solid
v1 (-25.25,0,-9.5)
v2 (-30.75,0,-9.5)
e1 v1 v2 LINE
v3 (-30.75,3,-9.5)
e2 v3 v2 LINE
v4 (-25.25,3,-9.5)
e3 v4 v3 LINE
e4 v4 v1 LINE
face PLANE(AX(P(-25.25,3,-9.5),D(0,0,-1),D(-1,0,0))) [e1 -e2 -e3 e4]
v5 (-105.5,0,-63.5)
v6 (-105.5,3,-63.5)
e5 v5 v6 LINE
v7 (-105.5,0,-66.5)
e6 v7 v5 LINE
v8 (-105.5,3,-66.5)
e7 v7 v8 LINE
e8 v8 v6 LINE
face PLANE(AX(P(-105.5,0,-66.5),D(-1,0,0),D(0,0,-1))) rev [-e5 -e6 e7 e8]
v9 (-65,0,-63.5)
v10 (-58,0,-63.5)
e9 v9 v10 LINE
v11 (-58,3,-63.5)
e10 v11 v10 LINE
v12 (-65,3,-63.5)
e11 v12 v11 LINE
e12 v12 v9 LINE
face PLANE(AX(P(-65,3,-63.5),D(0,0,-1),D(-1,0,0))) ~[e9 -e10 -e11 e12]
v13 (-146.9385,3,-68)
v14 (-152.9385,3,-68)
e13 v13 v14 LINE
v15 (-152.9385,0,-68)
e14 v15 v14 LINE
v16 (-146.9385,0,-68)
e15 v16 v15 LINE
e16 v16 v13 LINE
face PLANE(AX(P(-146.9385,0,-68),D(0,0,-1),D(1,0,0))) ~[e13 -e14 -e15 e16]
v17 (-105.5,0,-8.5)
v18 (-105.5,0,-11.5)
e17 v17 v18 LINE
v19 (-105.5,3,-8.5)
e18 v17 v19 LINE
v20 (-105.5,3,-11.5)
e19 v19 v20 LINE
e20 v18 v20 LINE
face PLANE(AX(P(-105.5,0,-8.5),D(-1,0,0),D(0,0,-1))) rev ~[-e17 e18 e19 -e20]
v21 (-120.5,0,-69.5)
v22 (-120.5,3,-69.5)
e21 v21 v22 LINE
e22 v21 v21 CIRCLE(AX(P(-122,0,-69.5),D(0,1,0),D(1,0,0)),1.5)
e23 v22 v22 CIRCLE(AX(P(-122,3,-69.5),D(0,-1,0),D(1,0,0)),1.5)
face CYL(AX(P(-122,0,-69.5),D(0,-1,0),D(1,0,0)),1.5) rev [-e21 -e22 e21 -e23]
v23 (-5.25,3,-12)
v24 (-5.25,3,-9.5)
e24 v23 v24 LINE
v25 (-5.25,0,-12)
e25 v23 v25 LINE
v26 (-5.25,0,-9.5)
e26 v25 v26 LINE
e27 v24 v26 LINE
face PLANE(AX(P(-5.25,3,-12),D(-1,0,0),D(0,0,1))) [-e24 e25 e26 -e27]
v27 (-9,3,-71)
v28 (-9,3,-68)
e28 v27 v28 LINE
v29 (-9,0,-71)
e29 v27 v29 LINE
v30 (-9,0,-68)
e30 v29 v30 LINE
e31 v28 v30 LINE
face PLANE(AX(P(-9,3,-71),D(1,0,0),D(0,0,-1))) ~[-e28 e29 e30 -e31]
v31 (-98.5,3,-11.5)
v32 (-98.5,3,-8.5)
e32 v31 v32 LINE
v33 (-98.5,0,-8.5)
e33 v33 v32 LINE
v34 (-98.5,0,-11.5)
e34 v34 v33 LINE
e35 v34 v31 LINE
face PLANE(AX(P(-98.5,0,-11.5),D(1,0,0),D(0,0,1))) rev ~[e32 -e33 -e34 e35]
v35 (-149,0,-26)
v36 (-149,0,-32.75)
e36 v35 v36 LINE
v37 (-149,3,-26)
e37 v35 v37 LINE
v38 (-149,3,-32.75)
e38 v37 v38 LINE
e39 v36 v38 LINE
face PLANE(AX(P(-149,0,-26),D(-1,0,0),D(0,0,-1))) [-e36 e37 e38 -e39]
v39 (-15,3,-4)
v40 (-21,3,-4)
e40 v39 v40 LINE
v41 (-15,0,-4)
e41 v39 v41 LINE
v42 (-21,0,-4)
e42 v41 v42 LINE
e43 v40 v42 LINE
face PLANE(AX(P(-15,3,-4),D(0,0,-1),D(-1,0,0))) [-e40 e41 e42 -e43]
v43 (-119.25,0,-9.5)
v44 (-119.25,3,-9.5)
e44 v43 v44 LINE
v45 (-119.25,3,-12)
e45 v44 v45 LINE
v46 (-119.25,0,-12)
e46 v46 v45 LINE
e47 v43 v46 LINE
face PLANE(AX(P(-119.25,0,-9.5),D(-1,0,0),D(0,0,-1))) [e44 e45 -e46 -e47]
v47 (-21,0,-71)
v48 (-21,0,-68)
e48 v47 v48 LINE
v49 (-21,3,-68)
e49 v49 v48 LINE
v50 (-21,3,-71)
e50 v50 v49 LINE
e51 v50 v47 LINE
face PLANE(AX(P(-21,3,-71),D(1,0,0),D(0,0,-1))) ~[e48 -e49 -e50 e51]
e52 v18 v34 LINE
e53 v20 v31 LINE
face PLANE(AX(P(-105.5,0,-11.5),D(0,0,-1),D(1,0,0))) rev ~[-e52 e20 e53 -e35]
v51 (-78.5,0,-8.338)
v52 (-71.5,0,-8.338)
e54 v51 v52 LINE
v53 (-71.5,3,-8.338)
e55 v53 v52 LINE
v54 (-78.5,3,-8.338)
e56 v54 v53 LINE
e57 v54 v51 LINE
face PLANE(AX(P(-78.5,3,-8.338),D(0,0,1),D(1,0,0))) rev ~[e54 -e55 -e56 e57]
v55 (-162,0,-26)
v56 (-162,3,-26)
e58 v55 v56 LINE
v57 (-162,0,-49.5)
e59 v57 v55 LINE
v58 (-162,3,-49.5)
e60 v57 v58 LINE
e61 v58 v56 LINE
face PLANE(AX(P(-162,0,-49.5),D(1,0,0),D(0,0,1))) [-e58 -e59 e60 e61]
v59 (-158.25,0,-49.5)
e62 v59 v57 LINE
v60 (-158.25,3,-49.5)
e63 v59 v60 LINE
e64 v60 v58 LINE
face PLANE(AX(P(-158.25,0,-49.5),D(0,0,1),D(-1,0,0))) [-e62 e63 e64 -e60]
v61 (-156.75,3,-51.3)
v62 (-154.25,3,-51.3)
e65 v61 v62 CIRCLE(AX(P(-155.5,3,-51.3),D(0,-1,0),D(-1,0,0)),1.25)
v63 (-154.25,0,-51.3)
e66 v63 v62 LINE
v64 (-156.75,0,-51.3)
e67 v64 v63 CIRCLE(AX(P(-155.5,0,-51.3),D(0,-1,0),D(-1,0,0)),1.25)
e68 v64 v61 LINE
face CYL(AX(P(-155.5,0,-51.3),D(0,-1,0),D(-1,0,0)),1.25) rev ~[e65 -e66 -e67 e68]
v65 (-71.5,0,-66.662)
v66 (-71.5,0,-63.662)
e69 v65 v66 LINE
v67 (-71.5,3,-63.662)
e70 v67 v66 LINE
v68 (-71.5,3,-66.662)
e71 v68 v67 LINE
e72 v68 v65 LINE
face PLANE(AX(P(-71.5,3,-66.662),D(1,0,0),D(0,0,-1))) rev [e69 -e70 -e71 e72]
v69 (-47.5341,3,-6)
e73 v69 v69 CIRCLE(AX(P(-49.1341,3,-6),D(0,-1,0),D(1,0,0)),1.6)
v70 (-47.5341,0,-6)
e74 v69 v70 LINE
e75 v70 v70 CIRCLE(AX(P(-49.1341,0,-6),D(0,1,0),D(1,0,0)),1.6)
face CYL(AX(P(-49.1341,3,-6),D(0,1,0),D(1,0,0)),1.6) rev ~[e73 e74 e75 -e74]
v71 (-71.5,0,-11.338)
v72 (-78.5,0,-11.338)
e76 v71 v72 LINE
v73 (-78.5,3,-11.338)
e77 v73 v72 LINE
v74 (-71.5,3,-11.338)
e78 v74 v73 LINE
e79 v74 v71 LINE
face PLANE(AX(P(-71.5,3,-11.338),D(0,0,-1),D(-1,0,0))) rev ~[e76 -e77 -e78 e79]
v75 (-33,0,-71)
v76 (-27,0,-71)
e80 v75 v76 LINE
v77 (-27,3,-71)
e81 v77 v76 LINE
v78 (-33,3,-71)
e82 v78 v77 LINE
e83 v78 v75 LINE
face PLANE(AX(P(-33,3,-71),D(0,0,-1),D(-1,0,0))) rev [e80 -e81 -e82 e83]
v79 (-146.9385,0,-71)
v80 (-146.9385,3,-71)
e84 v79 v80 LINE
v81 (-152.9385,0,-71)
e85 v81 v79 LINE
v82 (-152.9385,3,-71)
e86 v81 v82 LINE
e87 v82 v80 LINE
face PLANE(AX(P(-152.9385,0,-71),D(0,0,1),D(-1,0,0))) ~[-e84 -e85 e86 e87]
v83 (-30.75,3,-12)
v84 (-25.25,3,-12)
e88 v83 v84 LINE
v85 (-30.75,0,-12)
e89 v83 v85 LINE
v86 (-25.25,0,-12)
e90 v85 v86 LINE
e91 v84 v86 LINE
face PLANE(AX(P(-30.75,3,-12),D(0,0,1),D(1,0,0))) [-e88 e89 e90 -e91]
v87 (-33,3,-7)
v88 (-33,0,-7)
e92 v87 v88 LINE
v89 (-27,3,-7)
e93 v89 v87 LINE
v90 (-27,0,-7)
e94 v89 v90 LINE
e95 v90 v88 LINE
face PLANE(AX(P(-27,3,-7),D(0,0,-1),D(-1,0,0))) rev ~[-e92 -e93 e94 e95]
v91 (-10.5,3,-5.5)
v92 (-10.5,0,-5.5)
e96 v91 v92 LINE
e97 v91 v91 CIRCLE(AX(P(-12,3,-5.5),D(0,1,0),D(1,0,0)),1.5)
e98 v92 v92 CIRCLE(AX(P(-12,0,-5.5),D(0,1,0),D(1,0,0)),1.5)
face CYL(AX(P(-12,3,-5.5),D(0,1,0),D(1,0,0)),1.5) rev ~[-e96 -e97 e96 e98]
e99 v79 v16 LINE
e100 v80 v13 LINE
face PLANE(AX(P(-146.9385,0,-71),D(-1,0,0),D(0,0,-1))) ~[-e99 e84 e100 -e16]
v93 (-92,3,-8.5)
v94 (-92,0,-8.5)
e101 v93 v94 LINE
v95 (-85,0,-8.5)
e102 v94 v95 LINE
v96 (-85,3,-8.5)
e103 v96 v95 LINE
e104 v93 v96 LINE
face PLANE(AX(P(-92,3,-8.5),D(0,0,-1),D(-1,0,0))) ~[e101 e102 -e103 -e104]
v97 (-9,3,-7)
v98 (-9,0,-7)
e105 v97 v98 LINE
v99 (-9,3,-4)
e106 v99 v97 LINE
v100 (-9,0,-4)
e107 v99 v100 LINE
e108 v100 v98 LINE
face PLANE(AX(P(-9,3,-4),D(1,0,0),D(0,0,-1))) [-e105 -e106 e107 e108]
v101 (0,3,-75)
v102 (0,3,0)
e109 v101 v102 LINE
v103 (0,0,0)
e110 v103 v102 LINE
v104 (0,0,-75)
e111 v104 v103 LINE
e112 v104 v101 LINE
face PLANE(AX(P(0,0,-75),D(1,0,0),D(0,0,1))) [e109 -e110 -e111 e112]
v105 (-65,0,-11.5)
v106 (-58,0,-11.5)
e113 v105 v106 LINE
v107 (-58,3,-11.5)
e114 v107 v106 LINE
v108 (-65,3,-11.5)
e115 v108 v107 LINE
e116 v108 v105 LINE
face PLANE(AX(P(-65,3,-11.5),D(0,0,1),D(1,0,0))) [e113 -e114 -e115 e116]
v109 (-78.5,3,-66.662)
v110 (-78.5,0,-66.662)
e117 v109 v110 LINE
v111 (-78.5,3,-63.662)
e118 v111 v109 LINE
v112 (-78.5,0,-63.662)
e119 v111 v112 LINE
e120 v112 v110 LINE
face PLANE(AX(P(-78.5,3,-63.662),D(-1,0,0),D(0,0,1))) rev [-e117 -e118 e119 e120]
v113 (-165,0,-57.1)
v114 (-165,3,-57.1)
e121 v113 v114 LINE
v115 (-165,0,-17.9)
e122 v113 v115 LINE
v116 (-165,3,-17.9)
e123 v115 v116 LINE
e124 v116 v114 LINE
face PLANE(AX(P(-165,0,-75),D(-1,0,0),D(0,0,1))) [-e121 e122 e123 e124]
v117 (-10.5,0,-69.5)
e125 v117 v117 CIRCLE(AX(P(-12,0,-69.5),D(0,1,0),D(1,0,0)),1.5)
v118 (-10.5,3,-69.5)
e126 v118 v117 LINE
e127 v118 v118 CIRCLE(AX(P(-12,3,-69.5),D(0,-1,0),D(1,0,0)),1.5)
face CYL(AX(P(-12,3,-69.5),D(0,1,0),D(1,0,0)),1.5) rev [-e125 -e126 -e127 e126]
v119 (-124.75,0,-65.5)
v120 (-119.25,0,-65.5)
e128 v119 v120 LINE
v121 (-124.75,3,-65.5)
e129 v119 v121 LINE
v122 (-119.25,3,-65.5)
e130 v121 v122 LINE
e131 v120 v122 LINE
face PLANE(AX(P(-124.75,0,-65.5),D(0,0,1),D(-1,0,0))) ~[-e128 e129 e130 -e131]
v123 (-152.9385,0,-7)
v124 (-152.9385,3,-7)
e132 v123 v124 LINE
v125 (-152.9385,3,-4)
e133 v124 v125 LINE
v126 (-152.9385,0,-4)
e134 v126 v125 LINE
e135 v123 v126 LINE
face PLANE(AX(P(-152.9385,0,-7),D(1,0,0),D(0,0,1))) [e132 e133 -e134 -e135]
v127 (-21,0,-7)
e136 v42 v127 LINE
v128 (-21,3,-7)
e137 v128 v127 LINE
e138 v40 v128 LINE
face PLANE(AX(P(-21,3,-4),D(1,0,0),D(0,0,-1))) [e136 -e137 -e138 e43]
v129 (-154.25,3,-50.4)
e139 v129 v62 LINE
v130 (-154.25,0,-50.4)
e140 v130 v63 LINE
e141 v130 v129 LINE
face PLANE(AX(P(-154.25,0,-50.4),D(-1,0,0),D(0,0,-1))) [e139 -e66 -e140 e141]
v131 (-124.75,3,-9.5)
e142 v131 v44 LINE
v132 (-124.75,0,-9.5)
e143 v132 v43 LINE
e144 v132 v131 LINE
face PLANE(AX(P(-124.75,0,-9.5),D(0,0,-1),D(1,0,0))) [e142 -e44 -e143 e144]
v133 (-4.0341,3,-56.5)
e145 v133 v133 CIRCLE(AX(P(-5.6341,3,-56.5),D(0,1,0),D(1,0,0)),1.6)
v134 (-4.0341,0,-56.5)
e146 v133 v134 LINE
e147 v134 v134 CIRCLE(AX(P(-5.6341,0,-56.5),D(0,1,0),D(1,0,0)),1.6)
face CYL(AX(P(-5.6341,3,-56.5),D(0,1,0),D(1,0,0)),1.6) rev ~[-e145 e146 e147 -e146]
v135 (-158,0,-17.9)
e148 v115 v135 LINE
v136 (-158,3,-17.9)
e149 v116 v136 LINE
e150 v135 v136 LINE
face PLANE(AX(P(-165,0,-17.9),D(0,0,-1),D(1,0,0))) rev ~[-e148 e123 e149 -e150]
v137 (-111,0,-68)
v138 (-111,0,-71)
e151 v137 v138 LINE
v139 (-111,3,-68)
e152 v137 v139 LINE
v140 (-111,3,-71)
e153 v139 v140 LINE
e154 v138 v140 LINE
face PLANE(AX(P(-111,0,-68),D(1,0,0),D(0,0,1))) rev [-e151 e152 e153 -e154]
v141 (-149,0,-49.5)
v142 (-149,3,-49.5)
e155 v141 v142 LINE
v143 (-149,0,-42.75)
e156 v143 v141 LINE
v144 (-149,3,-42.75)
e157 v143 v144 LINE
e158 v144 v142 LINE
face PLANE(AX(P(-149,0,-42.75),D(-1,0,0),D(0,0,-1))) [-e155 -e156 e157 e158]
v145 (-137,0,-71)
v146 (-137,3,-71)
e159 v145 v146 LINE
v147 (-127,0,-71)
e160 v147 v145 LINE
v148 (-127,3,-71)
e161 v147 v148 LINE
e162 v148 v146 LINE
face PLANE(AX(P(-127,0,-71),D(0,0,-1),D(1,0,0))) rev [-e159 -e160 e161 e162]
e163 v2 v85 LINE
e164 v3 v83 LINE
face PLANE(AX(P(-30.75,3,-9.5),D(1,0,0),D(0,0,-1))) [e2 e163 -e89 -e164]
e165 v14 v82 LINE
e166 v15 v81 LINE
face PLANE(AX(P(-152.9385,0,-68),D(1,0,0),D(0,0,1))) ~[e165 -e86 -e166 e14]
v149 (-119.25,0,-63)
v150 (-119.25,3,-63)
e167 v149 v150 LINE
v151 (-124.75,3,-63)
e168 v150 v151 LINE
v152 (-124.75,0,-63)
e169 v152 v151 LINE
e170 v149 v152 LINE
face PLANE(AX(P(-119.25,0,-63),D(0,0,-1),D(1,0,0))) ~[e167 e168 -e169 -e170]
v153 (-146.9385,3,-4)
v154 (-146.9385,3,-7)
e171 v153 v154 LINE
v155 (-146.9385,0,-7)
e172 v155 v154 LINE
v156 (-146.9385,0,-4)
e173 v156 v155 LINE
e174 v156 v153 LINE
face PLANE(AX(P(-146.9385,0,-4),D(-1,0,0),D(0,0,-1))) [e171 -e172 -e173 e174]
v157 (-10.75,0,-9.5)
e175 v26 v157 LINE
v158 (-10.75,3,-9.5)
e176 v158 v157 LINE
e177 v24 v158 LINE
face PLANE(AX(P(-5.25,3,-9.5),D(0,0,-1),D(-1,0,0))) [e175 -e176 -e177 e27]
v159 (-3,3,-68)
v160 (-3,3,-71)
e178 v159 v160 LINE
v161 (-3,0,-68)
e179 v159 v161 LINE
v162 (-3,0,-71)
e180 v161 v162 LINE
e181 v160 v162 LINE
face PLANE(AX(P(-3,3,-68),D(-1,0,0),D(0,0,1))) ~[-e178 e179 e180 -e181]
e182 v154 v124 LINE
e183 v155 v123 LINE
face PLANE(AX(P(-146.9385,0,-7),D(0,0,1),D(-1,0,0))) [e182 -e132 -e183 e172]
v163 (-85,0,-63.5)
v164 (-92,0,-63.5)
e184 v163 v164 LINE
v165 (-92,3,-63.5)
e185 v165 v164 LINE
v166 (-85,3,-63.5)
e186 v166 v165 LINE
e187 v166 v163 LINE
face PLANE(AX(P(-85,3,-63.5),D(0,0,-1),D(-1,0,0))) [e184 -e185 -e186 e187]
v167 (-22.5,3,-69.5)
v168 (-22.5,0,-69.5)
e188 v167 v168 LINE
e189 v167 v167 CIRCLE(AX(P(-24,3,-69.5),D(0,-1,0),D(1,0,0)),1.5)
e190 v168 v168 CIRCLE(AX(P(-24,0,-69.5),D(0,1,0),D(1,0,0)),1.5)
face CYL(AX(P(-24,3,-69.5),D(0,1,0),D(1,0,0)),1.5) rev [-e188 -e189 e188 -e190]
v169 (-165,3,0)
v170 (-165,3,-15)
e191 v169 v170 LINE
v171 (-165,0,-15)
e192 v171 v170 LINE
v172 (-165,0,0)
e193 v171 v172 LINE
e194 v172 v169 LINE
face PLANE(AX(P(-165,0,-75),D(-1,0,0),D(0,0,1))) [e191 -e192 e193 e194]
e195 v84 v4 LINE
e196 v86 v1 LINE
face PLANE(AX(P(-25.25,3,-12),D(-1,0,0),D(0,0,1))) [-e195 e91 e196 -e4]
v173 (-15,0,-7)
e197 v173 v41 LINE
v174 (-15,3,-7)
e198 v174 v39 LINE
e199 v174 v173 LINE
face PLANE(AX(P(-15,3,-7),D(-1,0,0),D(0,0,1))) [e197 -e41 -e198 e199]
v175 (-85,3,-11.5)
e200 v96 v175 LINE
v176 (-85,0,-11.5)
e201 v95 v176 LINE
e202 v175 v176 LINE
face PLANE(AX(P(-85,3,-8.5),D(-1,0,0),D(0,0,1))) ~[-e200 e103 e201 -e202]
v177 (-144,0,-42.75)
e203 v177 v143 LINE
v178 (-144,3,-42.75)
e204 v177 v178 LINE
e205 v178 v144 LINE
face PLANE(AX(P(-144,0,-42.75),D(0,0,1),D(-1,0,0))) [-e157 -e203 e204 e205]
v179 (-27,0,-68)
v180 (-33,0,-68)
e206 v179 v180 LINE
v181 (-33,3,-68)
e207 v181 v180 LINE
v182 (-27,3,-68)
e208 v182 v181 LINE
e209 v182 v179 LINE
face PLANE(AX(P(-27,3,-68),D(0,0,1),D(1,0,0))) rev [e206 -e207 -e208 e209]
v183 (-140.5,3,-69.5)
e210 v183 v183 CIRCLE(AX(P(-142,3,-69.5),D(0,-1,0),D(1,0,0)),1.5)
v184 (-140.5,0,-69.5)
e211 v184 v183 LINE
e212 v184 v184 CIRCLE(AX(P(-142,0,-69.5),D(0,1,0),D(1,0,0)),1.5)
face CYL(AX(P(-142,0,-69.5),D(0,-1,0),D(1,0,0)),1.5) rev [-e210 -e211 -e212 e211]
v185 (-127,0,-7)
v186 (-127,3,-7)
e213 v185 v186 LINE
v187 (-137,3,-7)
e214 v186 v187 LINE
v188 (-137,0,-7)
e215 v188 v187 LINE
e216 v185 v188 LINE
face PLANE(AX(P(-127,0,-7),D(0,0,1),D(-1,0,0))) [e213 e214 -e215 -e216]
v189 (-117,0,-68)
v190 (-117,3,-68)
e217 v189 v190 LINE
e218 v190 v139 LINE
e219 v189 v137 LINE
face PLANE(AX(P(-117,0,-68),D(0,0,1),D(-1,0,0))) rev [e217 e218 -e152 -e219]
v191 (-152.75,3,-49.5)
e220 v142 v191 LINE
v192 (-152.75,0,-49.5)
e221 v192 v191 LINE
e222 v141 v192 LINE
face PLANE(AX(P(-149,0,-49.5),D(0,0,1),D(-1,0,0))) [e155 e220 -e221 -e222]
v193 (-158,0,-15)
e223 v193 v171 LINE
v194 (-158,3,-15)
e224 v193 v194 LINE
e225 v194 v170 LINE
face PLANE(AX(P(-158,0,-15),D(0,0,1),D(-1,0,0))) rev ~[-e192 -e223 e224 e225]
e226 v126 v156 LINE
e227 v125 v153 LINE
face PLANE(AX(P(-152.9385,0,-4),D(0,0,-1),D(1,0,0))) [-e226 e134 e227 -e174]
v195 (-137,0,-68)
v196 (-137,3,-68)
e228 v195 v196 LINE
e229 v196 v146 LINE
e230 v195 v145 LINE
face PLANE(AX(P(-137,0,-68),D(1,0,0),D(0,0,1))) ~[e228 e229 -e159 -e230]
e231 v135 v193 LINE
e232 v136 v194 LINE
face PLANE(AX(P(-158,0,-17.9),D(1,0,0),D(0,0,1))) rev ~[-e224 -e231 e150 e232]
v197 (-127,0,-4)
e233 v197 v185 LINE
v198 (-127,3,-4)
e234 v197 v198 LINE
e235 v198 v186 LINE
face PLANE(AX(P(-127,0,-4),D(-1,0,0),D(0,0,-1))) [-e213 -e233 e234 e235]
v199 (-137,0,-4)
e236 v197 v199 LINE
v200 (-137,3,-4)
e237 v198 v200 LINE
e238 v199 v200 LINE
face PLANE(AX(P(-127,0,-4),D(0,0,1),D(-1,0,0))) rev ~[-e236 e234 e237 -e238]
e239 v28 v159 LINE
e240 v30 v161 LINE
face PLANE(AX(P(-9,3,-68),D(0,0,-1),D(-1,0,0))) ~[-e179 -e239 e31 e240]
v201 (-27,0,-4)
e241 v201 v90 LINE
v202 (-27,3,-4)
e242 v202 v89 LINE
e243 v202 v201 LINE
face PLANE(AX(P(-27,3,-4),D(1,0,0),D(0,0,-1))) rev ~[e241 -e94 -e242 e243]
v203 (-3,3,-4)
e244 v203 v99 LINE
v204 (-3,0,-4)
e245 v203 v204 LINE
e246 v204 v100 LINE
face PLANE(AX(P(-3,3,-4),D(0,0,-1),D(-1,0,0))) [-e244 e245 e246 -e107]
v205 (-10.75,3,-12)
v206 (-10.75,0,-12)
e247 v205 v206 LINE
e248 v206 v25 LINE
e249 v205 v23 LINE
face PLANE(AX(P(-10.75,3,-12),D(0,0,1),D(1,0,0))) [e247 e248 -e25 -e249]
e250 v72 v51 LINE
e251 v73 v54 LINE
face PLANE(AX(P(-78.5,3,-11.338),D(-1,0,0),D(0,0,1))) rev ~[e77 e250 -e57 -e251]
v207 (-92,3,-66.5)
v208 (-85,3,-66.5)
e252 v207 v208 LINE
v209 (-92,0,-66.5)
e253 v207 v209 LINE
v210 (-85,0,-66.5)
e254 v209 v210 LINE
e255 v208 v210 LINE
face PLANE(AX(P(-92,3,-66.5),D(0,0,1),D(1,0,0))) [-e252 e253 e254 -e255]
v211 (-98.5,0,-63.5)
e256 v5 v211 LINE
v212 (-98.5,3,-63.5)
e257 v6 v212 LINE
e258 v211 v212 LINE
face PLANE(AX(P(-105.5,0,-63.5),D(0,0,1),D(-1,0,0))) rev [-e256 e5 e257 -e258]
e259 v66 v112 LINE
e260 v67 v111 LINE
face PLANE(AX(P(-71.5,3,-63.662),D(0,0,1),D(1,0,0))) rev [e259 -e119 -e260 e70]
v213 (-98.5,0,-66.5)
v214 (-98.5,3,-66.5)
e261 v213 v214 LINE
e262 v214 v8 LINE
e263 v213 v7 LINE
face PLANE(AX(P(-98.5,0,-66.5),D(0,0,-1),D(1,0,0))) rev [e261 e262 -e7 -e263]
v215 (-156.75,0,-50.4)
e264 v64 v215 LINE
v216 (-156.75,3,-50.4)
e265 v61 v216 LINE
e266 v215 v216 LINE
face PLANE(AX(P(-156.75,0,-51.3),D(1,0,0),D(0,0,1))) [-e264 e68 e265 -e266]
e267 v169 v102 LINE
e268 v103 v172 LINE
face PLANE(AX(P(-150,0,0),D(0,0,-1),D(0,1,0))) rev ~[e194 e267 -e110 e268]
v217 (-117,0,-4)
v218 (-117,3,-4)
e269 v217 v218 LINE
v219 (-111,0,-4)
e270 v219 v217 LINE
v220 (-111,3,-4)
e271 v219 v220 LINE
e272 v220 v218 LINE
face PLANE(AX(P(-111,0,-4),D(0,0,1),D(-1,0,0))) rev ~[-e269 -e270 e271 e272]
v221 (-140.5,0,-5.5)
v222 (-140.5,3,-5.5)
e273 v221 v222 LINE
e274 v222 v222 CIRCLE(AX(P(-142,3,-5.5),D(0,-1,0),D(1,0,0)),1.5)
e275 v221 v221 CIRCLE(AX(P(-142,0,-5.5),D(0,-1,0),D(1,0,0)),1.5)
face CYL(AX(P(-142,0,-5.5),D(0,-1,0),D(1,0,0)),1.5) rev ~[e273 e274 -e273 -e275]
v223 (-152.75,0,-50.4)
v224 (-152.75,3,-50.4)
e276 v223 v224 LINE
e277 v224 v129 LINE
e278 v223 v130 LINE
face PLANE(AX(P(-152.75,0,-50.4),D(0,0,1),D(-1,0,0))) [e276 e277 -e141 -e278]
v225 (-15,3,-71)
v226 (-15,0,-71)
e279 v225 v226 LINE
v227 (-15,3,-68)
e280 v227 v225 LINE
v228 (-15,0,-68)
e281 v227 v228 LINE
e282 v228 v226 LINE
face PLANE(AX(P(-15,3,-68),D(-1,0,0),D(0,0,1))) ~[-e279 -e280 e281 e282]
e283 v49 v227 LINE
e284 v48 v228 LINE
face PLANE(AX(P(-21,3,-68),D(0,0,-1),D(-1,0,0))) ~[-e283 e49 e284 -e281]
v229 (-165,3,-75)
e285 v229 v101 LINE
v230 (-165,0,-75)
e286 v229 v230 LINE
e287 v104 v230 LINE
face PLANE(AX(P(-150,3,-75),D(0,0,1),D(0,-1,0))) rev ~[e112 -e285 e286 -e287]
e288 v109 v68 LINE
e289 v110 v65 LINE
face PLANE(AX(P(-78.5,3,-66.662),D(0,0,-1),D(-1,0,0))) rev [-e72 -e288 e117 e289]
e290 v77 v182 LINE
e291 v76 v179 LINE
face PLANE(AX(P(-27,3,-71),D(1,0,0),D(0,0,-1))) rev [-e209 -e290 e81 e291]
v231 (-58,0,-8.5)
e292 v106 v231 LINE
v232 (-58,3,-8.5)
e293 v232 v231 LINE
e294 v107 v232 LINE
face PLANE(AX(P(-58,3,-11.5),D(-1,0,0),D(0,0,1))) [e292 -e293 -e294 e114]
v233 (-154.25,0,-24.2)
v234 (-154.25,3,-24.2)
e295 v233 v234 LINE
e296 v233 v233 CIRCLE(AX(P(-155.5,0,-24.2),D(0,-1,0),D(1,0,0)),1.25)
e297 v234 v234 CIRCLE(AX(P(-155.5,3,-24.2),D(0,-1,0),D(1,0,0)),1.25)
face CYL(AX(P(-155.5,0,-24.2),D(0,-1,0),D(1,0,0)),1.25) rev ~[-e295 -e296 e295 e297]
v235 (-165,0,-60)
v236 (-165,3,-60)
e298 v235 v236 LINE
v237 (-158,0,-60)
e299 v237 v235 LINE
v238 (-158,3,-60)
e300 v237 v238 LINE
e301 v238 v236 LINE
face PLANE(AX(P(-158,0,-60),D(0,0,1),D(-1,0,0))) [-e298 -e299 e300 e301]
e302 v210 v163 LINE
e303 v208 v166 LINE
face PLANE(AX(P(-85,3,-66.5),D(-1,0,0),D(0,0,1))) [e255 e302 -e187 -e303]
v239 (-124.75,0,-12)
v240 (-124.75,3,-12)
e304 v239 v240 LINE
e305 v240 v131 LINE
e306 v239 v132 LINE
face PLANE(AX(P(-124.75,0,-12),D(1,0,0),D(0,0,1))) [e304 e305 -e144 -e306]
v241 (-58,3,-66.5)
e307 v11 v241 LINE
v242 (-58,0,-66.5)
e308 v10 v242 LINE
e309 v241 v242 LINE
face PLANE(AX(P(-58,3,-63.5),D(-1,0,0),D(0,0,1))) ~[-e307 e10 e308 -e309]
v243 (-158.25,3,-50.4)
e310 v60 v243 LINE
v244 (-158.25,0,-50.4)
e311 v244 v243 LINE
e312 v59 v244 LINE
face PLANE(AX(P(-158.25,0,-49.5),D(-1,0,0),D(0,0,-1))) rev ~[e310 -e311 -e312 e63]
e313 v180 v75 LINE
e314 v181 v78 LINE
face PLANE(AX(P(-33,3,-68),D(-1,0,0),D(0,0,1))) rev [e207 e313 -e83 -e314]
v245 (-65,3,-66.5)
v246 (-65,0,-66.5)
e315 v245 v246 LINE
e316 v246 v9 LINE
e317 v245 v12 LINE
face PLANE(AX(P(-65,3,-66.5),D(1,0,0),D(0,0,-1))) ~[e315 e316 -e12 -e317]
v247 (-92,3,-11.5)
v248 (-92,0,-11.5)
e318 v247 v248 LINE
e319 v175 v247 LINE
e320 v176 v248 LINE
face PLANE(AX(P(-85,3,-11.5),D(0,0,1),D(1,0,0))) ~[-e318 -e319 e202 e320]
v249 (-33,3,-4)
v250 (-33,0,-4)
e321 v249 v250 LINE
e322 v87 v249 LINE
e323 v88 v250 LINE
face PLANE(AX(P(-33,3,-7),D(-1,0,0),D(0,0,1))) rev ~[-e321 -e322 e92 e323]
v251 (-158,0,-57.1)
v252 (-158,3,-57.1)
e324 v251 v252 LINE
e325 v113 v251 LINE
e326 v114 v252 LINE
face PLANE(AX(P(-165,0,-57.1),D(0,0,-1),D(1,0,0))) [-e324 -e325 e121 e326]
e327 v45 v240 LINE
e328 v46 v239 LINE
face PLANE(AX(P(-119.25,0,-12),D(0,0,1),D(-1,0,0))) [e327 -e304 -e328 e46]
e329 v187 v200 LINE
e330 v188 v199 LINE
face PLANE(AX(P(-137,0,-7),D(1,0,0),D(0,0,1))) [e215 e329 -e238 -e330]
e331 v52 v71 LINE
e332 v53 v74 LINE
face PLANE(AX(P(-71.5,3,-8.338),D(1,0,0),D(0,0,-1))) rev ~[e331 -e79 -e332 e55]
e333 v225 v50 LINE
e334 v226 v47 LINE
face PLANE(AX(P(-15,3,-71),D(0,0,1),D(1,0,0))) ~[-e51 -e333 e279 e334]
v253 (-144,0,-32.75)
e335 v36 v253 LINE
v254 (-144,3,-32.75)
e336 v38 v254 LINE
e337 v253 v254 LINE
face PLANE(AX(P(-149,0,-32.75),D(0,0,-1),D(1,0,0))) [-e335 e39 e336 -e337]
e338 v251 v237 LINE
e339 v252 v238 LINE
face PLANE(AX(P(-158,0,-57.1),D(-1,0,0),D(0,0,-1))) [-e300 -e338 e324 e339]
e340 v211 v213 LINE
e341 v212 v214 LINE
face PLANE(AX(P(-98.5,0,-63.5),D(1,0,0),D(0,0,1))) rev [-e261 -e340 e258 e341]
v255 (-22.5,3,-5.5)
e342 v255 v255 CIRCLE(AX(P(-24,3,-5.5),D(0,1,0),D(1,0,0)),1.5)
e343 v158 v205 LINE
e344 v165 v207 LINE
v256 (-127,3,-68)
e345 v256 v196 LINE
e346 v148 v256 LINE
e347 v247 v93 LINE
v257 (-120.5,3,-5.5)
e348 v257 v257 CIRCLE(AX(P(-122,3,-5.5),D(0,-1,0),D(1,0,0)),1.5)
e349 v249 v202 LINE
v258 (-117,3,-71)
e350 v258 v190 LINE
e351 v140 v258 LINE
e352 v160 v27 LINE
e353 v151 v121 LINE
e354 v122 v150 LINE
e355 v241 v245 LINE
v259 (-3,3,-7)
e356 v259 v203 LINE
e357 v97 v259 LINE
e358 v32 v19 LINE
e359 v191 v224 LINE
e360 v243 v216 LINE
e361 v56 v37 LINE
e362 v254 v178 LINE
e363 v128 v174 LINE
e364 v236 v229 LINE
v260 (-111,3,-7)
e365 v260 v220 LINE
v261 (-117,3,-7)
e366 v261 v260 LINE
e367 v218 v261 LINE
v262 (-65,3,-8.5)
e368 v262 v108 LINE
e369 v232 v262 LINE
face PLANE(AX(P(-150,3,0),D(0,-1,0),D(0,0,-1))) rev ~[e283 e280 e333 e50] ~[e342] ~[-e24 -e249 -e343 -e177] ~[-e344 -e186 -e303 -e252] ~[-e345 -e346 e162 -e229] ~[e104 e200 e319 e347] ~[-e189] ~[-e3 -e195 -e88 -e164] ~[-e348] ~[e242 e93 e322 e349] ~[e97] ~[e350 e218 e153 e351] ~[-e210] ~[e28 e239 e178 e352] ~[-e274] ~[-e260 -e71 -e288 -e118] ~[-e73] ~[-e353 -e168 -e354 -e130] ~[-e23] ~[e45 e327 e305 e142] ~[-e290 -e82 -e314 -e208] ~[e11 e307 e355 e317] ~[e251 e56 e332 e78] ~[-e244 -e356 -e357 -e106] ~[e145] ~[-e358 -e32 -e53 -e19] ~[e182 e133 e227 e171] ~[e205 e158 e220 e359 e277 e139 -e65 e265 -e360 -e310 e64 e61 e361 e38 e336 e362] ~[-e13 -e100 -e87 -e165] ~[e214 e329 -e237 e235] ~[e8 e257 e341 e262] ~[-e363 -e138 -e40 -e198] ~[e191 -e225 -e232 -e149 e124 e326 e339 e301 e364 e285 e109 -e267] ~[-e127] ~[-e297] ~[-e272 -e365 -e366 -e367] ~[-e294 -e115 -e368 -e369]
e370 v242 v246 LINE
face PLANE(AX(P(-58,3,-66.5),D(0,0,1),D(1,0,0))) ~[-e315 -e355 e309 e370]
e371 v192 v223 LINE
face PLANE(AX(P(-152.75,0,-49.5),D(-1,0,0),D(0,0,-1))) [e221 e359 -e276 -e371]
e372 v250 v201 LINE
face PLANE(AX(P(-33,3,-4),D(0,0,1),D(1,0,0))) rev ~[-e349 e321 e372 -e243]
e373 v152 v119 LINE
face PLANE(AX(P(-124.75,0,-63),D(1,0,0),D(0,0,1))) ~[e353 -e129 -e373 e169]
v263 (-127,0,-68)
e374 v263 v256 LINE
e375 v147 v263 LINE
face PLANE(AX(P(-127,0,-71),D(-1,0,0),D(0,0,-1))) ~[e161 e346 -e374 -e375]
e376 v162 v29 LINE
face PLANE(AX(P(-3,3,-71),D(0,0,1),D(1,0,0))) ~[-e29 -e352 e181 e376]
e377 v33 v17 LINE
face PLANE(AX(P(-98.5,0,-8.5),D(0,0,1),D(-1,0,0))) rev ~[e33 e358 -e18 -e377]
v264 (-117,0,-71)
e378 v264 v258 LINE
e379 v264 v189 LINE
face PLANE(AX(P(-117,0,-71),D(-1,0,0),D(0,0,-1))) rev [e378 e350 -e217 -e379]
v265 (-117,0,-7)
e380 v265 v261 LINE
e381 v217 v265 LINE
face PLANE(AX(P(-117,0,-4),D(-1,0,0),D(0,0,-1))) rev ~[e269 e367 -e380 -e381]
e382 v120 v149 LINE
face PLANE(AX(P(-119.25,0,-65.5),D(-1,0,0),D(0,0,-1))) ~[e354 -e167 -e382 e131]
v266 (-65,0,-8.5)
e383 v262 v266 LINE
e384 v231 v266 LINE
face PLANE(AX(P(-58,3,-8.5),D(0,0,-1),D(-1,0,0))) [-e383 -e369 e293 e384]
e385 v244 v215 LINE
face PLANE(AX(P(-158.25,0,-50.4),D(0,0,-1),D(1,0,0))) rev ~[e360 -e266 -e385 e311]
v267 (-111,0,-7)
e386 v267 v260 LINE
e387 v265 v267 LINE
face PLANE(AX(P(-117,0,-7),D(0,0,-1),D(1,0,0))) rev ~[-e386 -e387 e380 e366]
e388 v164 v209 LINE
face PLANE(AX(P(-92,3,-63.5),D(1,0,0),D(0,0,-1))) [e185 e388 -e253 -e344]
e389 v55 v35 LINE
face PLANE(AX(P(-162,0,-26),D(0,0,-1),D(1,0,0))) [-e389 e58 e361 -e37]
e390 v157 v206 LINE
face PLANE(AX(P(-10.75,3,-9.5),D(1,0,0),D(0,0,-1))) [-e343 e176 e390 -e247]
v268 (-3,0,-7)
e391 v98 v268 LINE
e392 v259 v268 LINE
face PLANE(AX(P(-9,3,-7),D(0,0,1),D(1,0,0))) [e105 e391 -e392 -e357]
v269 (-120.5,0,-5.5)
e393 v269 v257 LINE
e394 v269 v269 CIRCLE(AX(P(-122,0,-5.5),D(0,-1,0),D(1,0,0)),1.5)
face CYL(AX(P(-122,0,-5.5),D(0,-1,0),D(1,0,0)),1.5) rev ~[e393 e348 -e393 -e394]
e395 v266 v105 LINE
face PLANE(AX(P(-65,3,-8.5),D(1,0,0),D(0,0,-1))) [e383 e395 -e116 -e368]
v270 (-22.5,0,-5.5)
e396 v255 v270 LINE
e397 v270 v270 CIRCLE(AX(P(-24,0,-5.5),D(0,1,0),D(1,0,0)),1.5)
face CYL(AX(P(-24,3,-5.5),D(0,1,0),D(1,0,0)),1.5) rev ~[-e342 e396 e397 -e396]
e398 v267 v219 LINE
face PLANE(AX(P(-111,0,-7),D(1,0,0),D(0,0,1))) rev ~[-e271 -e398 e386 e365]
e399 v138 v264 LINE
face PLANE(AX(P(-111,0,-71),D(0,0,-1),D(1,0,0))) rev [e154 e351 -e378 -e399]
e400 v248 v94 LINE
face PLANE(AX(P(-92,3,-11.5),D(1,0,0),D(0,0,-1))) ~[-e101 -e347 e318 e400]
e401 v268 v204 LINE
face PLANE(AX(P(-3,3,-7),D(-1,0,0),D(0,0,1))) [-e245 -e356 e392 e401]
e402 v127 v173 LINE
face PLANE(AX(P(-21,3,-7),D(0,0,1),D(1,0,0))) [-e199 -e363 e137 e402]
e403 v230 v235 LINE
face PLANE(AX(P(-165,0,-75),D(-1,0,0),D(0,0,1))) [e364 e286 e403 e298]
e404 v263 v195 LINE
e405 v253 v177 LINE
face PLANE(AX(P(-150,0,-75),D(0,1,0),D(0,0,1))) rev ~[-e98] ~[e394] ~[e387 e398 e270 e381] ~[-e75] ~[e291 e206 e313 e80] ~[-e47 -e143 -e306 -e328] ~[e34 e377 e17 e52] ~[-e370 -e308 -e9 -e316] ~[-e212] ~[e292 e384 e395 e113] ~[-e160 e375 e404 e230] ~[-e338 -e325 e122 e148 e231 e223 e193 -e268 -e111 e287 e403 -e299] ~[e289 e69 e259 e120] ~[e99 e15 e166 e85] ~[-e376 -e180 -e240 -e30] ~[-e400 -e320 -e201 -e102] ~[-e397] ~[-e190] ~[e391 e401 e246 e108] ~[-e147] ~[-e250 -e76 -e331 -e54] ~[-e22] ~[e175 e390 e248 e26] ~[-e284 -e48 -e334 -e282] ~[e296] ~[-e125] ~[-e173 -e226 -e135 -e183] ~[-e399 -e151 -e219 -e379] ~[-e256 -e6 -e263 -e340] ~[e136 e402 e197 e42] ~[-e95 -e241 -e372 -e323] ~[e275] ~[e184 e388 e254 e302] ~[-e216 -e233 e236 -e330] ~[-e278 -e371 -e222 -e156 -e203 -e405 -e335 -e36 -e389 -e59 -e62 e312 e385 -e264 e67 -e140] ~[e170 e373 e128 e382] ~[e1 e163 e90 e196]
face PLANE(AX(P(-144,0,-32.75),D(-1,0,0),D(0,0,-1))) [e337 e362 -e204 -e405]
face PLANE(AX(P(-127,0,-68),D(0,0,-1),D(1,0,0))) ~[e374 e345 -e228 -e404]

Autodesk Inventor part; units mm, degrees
ref_plane "YZ Plane" through (0, 0, 0) normal (1, 0, 0) x (0, 1, 0)
sketch "Base" plane through (0, 0, 0) normal (0, 1, 0) x (-1, 0, 0)
  line L0 (0, 0) -> (150, 0)
  line L1 (150, 0) -> (150, -75)
  line L2 (150, -75) -> (0, -75)
  line L3 (0, -75) -> (0, 0)
  dimension "d0" = 150
  dimension "d1" = 75
extrude "Extrusion1" add sketch "Base" along normal blind 3
sketch "Sketch2" plane through (0, 3, 0) normal (0, 1, 0) x (1, 0, 0)
  line L0 (-3, 4) -> (-9, 4)
  line L1 (-9, 4) -> (-9, 7)
  line L2 (-9, 7) -> (-3, 7)
  line L3 (-3, 7) -> (-3, 4)
  line L4 (-150, 0) -> (0, 0) projected
  line L5 (0, 0) -> (0, 75) projected
  line L6 (-15, 4) -> (-21, 4)
  line L7 (-21, 4) -> (-21, 7)
  line L8 (-21, 7) -> (-15, 7)
  line L9 (-15, 7) -> (-15, 4)
  line L10 (-27, 7) -> (-33, 7)
  line L11 (-33, 7) -> (-33, 4)
  line L12 (-33, 4) -> (-27, 4)
  line L13 (-27, 4) -> (-27, 7)
  circle A0 centre (-24, 5.5) radius 1.5
  circle A1 centre (-12, 5.5) radius 1.5
  dimension "d4" = 6
  dimension "d5" = 3
  dimension "d6" = 4
  dimension "d7" = 3
  dimension "d100" = 6
  dimension "d101" = 6
  dimension "d102" = 6
  dimension "d103" = 6
  dimension "d104" = 3
  dimension "d107" = 3
  dimension "d108" = 3
  dimension "d109" = 3
  dimension "d110" = 3
extrude "Extrusion2" cut sketch "Sketch2" against normal blind 4
ref_plane "Work Plane1" through (-75, 0, 0) normal (1, 0, 0) x (0, 0, -1)
ref_plane "Work Plane2" through (-150, 0, -37.5) normal (0, 0, 1) x (1, 0, 0)
mirror "Mirror3" about plane through (-150, 0, -37.5) normal (0, 0, 1) of "Extrusion2"
sketch "Sketch5" plane through (0, 3, 0) normal (0, 1, 0) x (1, 0, 0)
  line L0 (-56.1341, 6.5) -> (-3.1341, 6.5)
  line L1 (-3.1341, 6.5) -> (-3.1341, 71.5)
  line L2 (-3.1341, 71.5) -> (-56.1341, 71.5)
  line L3 (-56.1341, 71.5) -> (-56.1341, 6.5)
  line L4 (0, 75) -> (-150, 75) projected
  line L5 (-54.1341, 6.5) -> (-16.1341, 6.5)
  line L6 (-16.1341, 6.5) -> (-16.1341, 6.5)
  line L7 (-19.1341, 3.5) -> (-51.1341, 3.5)
  line L8 (-54.1341, 6.5) -> (-54.1341, 6.5)
  line L9 (-51.1341, 3.5) -> (-54.1341, 6.5)
  line L10 (-16.1341, 6.5) -> (-19.1341, 3.5)
  circle A0 centre (-5.6341, 56.5) radius 1.6
  circle A1 centre (-49.1341, 6) radius 1.6
  circle A2 centre (-21.6341, 6) radius 1.6
  point P0 (0, 0)
  point P1 (-16.1341, 3.5)
  point P2 (-54.1341, 3.5)
  dimension "d29" = 53
  dimension "d30" = 65
  dimension "d31" = 3.5
  dimension "d32" = 38
  dimension "d33" = 3
  dimension "d34" = 2
  dimension "d35" = 13
  dimension "d36" = 3
  dimension "d37" = 3
  dimension "d38" = 3
  dimension "d39" = 3
  dimension "d40" = 3.2
  dimension "d41" = 15
  dimension "d42" = 50.5
  dimension "d43" = 3.2
  dimension "d44" = 65.5
  dimension "d45" = 7
  dimension "d46" = 3.2
extrude "Extrusion4" cut sketch "Sketch5" against normal blind 4 contours A1 L0 | L0 A1 | A0
sketch "Sketch6" plane through (0, 3, 0) normal (0, 1, 0) x (1, 0, 0)
  line L0 (-5.25, 9.5) -> (-10.75, 9.5)
  line L1 (-10.75, 9.5) -> (-10.75, 12)
  line L2 (-10.75, 12) -> (-5.25, 12)
  line L3 (-5.25, 12) -> (-5.25, 9.5)
  line L4 (-9, 7) -> (-3, 7) projected
  line L5 (-3, 7) -> (-3, 4) projected
  line L6 (-25.25, 9.5) -> (-30.75, 9.5)
  line L7 (-30.75, 9.5) -> (-30.75, 12)
  line L8 (-30.75, 12) -> (-25.25, 12)
  line L9 (-25.25, 12) -> (-25.25, 9.5)
  line L10 (-27, 7) -> (-33, 7) projected
  line L11 (-27, 4) -> (-27, 7) projected
  point P0 (0, 0)
  dimension "d49" = 5.5
  dimension "d50" = 2.5
  dimension "d51" = 2.5
  dimension "d52" = 2.25
  dimension "d53" = 5.5
  dimension "d54" = 2.5
  dimension "d105" = 2.5
  dimension "d106" = 1.75
extrude "Extrusion5" cut sketch "Sketch6" against normal blind 4
sketch "Sketch7" plane through (0, 3, 0) normal (0, 1, 0) x (1, 0, 0)
  line L0 (-58, 8.5) -> (-65, 8.5)
  line L1 (-65, 8.5) -> (-65, 11.5)
  line L2 (-65, 11.5) -> (-58, 11.5)
  line L3 (-58, 11.5) -> (-58, 8.5)
  line L4 (0, 0) -> (0, 75) projected
  line L5 (-150, 0) -> (0, 0) projected
  dimension "d59" = 7
  dimension "d60" = 3
  dimension "d61" = 58
  dimension "d62" = 8.5
extrude "Extrusion6" cut sketch "Sketch7" against normal blind 4
mirror "Mirror7" about plane through (-75, 0, 0) normal (1, 0, 0) of "Extrusion6"
sketch "Sketch8" plane through (0, 3, 0) normal (0, 1, 0) x (1, 0, 0)
  line L0 (-78.5, 8.338) -> (-71.5, 8.338)
  line L1 (-71.5, 8.338) -> (-71.5, 11.338)
  line L2 (-71.5, 11.338) -> (-78.5, 11.338)
  line L3 (-78.5, 11.338) -> (-78.5, 8.338)
  line L4 (-85, 11.5) -> (-85, 8.5) projected
  point P0 (0, 0)
  dimension "d65" = 7
  dimension "d66" = 3
  dimension "d67" = 6.5
extrude "Extrusion7" cut sketch "Sketch8" against normal blind 4
mirror "Mirror8" about plane through (-150, 0, -37.5) normal (0, 0, 1) of "Extrusion6", "Mirror7", "Extrusion7"
sketch "Sketch9" plane through (-150, 0, -75) normal (-1, 0, 0) x (0, 0, 1)
  line L0 (0, 0) -> (75, 0)
  line L1 (75, 0) -> (75, 3)
  line L2 (75, 3) -> (0, 3)
  line L3 (0, 3) -> (0, 0)
extrude "Extrusion8" add sketch "Sketch9" along normal blind 15
sketch "Sketch10" plane through (0, 0, 0) normal (0, -1, 0) x (1, 0, 0)
  line L0 (-162, -26) -> (-149, -26)
  line L1 (-162, -49.5) -> (-162, -26)
  line L2 (-165, -75) -> (-165, 0) projected
  line L3 (-165, -75) -> (0, -75) projected
  line L4 (0, 0) -> (-165, 0) projected
  line L5 (-149, -32.75) -> (-144, -32.75)
  line L6 (-144, -32.75) -> (-144, -42.75)
  line L7 (-144, -42.75) -> (-149, -42.75)
  line L8 (-149, -26) -> (-149, -32.75)
  line L9 (-149, -42.75) -> (-149, -49.5)
  circle A0 centre (-155.5, -24.2) radius 1.25
  arc A1 (-156.75, -51.3) -> (-154.25, -51.3) centre (-155.5, -51.3) ccw
  line L10 (-152.75, -49.5) -> (-152.75, -50.4)
  line L11 (-152.75, -50.4) -> (-154.25, -50.4)
  line L12 (-158.25, -49.5) -> (-158.25, -50.4)
  line L13 (-158.25, -50.4) -> (-156.75, -50.4)
  line L14 (-149, -49.5) -> (-152.75, -49.5)
  line L15 (-154.25, -50.4) -> (-154.25, -51.3)
  line L16 (-156.75, -51.3) -> (-156.75, -50.4)
  line L17 (-158.25, -49.5) -> (-162, -49.5)
  dimension "d74" = 3
  dimension "d75" = 75
  dimension "d76" = 26
  dimension "d83" = 13
  dimension "d84" = 13
  dimension "d85" = 5
  dimension "d86" = 10
  dimension "d89" = 6.75
  dimension "d117" = 2.5
  dimension "d118" = 6.5
  dimension "d119" = 1.8
extrude "Extrusion9" cut sketch "Sketch10" against normal blind 4
sketch "Sketch11" plane through (0, 0, 0) normal (0, -1, 0) x (1, 0, 0)
  line L0 (-127, -4) -> (-137, -4)
  line L1 (-146.9385, -7) -> (-152.9385, -7)
  line L2 (-152.9385, -7) -> (-152.9385, -4)
  line L3 (-152.9385, -4) -> (-146.9385, -4)
  line L4 (-146.9385, -4) -> (-146.9385, -7)
  line L5 (-111, -7) -> (-111, -4)
  line L6 (-111, -4) -> (-117, -4)
  line L7 (-165, -75) -> (-165, 0) projected
  line L8 (0, 0) -> (-165, 0) projected
  line L9 (-117, -4) -> (-117, -7)
  line L10 (-117, -7) -> (-111, -7)
  circle A0 centre (-142, -5.5) radius 1.5
  circle A1 centre (-122, -5.5) radius 1.5
  line L11 (-137, -4) -> (-127, -4)
  line L12 (-127, -4) -> (-127, -7)
  line L13 (-127, -7) -> (-137, -7)
  line L14 (-137, -7) -> (-137, -4)
  dimension "d91" = 6
  dimension "d92" = 3
  dimension "d93" = 6
  dimension "d96" = 12.0615
  dimension "d97" = 4
  dimension "d99" = 4
  dimension "d111" = 3
  dimension "d112" = 3
  dimension "d122" = 0
  dimension "d124" = 3
  dimension "d125" = 0
  dimension "d126" = 4
  dimension "d129" = 3
extrude "Extrusion10" cut sketch "Sketch11" against normal blind 4
mirror "Mirror9" about plane through (-150, 0, -37.5) normal (0, 0, 1) of "Extrusion10"
sketch "Sketch12" plane through (0, 0, 0) normal (0, -1, 0) x (1, 0, 0)
  line L0 (-165, 0) -> (-165, -75) projected
  line L1 (-165, -17.9) -> (-158, -17.9)
  line L2 (-158, -17.9) -> (-158, -15)
  line L3 (-158, -15) -> (-165, -15)
  line L4 (-165, -15) -> (-165, -17.9)
  line L5 (0, 0) -> (-165, 0) projected
  line L6 (-165, -57.1) -> (-158, -57.1)
  line L7 (-158, -57.1) -> (-158, -60)
  line L8 (-158, -60) -> (-165, -60)
  line L9 (-165, -60) -> (-165, -57.1)
  line L10 (-165, -75) -> (0, -75) projected
  dimension "d130" = 7
  dimension "d131" = 2.9
  dimension "d132" = 15
  dimension "d133" = 7
  dimension "d134" = 2.9
  dimension "d135" = 15
extrude "Extrusion11" cut sketch "Sketch12" against normal blind 10
sketch "Sketch13" plane through (0, 0, 0) normal (0, -1, 0) x (1, 0, 0)
  line L0 (-124.75, -9.5) -> (-119.25, -9.5)
  line L1 (-119.25, -9.5) -> (-119.25, -12)
  line L2 (-119.25, -12) -> (-124.75, -12)
  line L3 (-124.75, -12) -> (-124.75, -9.5)
  circle A0 centre (-122, -5.5) radius 1.5 projected
  line L4 (-111, -7) -> (-117, -7) projected
  point P0 (0, 0)
  dimension "d138" = 5.5
  dimension "d139" = 2.5
  dimension "d140" = 2.5
  dimension "d141" = 2.75
extrude "Extrusion12" cut sketch "Sketch13" against normal blind 10 contours L0 L1 L2 L3
mirror "Mirror10" about plane through (-150, 0, -37.5) normal (0, 0, 1) of "Extrusion12"
sketch "Sketch14" plane through (0, 0, 0) normal (0, -1, 0) x (1, 0, 0)
  line L0 (-85, -11.5) -> (-92, -11.5) projected
  line L1 (-85, -8.5) -> (-85, -11.5) projected
  line L2 (-92, -8.5) -> (-85, -8.5) projected
  line L3 (-92, -11.5) -> (-92, -8.5) projected
  line L4 (-78.5, -11.338) -> (-78.5, -8.338) projected
  line L5 (-78.5, -8.338) -> (-71.5, -8.338) projected
  line L6 (-71.5, -11.338) -> (-78.5, -11.338) projected
  line L7 (-71.5, -8.338) -> (-71.5, -11.338) projected
  line L8 (-98.5, -8.5) -> (-105.5, -8.5)
  line L9 (-105.5, -8.5) -> (-105.5, -11.5)
  line L10 (-105.5, -11.5) -> (-98.5, -11.5)
  line L11 (-98.5, -11.5) -> (-98.5, -8.5)
  point P0 (0, 0)
  dimension "d144" = 7
  dimension "d145" = 7
  dimension "d146" = 6.5
  dimension "d147" = 6.5
extrude "Extrusion13" cut sketch "Sketch14" against normal blind 10 contours L11 L10 L9 L8
mirror "Mirror11" about plane through (-150, 0, -37.5) normal (0, 0, 1) of "Extrusion13"
ref_plane "Work Plane3" through (-75, 0, 0) normal (1, 0, 0) x (0, 0, -1)
ref_plane "Work Plane4" through (-75, 0, -75) normal (-1, 0, 0) x (0, 0, 1)
ref_plane "Work Plane5" through (-75, 0, -75) normal (-1, 0, 0) x (0, 0, 1)
equation "\"d37\" = d36"
equation "\"d38\" = d36"
equation "\"d39\" = d38"
equation "\"d133\" = d130"
properties part number "base" material "Plywood, Finish"
